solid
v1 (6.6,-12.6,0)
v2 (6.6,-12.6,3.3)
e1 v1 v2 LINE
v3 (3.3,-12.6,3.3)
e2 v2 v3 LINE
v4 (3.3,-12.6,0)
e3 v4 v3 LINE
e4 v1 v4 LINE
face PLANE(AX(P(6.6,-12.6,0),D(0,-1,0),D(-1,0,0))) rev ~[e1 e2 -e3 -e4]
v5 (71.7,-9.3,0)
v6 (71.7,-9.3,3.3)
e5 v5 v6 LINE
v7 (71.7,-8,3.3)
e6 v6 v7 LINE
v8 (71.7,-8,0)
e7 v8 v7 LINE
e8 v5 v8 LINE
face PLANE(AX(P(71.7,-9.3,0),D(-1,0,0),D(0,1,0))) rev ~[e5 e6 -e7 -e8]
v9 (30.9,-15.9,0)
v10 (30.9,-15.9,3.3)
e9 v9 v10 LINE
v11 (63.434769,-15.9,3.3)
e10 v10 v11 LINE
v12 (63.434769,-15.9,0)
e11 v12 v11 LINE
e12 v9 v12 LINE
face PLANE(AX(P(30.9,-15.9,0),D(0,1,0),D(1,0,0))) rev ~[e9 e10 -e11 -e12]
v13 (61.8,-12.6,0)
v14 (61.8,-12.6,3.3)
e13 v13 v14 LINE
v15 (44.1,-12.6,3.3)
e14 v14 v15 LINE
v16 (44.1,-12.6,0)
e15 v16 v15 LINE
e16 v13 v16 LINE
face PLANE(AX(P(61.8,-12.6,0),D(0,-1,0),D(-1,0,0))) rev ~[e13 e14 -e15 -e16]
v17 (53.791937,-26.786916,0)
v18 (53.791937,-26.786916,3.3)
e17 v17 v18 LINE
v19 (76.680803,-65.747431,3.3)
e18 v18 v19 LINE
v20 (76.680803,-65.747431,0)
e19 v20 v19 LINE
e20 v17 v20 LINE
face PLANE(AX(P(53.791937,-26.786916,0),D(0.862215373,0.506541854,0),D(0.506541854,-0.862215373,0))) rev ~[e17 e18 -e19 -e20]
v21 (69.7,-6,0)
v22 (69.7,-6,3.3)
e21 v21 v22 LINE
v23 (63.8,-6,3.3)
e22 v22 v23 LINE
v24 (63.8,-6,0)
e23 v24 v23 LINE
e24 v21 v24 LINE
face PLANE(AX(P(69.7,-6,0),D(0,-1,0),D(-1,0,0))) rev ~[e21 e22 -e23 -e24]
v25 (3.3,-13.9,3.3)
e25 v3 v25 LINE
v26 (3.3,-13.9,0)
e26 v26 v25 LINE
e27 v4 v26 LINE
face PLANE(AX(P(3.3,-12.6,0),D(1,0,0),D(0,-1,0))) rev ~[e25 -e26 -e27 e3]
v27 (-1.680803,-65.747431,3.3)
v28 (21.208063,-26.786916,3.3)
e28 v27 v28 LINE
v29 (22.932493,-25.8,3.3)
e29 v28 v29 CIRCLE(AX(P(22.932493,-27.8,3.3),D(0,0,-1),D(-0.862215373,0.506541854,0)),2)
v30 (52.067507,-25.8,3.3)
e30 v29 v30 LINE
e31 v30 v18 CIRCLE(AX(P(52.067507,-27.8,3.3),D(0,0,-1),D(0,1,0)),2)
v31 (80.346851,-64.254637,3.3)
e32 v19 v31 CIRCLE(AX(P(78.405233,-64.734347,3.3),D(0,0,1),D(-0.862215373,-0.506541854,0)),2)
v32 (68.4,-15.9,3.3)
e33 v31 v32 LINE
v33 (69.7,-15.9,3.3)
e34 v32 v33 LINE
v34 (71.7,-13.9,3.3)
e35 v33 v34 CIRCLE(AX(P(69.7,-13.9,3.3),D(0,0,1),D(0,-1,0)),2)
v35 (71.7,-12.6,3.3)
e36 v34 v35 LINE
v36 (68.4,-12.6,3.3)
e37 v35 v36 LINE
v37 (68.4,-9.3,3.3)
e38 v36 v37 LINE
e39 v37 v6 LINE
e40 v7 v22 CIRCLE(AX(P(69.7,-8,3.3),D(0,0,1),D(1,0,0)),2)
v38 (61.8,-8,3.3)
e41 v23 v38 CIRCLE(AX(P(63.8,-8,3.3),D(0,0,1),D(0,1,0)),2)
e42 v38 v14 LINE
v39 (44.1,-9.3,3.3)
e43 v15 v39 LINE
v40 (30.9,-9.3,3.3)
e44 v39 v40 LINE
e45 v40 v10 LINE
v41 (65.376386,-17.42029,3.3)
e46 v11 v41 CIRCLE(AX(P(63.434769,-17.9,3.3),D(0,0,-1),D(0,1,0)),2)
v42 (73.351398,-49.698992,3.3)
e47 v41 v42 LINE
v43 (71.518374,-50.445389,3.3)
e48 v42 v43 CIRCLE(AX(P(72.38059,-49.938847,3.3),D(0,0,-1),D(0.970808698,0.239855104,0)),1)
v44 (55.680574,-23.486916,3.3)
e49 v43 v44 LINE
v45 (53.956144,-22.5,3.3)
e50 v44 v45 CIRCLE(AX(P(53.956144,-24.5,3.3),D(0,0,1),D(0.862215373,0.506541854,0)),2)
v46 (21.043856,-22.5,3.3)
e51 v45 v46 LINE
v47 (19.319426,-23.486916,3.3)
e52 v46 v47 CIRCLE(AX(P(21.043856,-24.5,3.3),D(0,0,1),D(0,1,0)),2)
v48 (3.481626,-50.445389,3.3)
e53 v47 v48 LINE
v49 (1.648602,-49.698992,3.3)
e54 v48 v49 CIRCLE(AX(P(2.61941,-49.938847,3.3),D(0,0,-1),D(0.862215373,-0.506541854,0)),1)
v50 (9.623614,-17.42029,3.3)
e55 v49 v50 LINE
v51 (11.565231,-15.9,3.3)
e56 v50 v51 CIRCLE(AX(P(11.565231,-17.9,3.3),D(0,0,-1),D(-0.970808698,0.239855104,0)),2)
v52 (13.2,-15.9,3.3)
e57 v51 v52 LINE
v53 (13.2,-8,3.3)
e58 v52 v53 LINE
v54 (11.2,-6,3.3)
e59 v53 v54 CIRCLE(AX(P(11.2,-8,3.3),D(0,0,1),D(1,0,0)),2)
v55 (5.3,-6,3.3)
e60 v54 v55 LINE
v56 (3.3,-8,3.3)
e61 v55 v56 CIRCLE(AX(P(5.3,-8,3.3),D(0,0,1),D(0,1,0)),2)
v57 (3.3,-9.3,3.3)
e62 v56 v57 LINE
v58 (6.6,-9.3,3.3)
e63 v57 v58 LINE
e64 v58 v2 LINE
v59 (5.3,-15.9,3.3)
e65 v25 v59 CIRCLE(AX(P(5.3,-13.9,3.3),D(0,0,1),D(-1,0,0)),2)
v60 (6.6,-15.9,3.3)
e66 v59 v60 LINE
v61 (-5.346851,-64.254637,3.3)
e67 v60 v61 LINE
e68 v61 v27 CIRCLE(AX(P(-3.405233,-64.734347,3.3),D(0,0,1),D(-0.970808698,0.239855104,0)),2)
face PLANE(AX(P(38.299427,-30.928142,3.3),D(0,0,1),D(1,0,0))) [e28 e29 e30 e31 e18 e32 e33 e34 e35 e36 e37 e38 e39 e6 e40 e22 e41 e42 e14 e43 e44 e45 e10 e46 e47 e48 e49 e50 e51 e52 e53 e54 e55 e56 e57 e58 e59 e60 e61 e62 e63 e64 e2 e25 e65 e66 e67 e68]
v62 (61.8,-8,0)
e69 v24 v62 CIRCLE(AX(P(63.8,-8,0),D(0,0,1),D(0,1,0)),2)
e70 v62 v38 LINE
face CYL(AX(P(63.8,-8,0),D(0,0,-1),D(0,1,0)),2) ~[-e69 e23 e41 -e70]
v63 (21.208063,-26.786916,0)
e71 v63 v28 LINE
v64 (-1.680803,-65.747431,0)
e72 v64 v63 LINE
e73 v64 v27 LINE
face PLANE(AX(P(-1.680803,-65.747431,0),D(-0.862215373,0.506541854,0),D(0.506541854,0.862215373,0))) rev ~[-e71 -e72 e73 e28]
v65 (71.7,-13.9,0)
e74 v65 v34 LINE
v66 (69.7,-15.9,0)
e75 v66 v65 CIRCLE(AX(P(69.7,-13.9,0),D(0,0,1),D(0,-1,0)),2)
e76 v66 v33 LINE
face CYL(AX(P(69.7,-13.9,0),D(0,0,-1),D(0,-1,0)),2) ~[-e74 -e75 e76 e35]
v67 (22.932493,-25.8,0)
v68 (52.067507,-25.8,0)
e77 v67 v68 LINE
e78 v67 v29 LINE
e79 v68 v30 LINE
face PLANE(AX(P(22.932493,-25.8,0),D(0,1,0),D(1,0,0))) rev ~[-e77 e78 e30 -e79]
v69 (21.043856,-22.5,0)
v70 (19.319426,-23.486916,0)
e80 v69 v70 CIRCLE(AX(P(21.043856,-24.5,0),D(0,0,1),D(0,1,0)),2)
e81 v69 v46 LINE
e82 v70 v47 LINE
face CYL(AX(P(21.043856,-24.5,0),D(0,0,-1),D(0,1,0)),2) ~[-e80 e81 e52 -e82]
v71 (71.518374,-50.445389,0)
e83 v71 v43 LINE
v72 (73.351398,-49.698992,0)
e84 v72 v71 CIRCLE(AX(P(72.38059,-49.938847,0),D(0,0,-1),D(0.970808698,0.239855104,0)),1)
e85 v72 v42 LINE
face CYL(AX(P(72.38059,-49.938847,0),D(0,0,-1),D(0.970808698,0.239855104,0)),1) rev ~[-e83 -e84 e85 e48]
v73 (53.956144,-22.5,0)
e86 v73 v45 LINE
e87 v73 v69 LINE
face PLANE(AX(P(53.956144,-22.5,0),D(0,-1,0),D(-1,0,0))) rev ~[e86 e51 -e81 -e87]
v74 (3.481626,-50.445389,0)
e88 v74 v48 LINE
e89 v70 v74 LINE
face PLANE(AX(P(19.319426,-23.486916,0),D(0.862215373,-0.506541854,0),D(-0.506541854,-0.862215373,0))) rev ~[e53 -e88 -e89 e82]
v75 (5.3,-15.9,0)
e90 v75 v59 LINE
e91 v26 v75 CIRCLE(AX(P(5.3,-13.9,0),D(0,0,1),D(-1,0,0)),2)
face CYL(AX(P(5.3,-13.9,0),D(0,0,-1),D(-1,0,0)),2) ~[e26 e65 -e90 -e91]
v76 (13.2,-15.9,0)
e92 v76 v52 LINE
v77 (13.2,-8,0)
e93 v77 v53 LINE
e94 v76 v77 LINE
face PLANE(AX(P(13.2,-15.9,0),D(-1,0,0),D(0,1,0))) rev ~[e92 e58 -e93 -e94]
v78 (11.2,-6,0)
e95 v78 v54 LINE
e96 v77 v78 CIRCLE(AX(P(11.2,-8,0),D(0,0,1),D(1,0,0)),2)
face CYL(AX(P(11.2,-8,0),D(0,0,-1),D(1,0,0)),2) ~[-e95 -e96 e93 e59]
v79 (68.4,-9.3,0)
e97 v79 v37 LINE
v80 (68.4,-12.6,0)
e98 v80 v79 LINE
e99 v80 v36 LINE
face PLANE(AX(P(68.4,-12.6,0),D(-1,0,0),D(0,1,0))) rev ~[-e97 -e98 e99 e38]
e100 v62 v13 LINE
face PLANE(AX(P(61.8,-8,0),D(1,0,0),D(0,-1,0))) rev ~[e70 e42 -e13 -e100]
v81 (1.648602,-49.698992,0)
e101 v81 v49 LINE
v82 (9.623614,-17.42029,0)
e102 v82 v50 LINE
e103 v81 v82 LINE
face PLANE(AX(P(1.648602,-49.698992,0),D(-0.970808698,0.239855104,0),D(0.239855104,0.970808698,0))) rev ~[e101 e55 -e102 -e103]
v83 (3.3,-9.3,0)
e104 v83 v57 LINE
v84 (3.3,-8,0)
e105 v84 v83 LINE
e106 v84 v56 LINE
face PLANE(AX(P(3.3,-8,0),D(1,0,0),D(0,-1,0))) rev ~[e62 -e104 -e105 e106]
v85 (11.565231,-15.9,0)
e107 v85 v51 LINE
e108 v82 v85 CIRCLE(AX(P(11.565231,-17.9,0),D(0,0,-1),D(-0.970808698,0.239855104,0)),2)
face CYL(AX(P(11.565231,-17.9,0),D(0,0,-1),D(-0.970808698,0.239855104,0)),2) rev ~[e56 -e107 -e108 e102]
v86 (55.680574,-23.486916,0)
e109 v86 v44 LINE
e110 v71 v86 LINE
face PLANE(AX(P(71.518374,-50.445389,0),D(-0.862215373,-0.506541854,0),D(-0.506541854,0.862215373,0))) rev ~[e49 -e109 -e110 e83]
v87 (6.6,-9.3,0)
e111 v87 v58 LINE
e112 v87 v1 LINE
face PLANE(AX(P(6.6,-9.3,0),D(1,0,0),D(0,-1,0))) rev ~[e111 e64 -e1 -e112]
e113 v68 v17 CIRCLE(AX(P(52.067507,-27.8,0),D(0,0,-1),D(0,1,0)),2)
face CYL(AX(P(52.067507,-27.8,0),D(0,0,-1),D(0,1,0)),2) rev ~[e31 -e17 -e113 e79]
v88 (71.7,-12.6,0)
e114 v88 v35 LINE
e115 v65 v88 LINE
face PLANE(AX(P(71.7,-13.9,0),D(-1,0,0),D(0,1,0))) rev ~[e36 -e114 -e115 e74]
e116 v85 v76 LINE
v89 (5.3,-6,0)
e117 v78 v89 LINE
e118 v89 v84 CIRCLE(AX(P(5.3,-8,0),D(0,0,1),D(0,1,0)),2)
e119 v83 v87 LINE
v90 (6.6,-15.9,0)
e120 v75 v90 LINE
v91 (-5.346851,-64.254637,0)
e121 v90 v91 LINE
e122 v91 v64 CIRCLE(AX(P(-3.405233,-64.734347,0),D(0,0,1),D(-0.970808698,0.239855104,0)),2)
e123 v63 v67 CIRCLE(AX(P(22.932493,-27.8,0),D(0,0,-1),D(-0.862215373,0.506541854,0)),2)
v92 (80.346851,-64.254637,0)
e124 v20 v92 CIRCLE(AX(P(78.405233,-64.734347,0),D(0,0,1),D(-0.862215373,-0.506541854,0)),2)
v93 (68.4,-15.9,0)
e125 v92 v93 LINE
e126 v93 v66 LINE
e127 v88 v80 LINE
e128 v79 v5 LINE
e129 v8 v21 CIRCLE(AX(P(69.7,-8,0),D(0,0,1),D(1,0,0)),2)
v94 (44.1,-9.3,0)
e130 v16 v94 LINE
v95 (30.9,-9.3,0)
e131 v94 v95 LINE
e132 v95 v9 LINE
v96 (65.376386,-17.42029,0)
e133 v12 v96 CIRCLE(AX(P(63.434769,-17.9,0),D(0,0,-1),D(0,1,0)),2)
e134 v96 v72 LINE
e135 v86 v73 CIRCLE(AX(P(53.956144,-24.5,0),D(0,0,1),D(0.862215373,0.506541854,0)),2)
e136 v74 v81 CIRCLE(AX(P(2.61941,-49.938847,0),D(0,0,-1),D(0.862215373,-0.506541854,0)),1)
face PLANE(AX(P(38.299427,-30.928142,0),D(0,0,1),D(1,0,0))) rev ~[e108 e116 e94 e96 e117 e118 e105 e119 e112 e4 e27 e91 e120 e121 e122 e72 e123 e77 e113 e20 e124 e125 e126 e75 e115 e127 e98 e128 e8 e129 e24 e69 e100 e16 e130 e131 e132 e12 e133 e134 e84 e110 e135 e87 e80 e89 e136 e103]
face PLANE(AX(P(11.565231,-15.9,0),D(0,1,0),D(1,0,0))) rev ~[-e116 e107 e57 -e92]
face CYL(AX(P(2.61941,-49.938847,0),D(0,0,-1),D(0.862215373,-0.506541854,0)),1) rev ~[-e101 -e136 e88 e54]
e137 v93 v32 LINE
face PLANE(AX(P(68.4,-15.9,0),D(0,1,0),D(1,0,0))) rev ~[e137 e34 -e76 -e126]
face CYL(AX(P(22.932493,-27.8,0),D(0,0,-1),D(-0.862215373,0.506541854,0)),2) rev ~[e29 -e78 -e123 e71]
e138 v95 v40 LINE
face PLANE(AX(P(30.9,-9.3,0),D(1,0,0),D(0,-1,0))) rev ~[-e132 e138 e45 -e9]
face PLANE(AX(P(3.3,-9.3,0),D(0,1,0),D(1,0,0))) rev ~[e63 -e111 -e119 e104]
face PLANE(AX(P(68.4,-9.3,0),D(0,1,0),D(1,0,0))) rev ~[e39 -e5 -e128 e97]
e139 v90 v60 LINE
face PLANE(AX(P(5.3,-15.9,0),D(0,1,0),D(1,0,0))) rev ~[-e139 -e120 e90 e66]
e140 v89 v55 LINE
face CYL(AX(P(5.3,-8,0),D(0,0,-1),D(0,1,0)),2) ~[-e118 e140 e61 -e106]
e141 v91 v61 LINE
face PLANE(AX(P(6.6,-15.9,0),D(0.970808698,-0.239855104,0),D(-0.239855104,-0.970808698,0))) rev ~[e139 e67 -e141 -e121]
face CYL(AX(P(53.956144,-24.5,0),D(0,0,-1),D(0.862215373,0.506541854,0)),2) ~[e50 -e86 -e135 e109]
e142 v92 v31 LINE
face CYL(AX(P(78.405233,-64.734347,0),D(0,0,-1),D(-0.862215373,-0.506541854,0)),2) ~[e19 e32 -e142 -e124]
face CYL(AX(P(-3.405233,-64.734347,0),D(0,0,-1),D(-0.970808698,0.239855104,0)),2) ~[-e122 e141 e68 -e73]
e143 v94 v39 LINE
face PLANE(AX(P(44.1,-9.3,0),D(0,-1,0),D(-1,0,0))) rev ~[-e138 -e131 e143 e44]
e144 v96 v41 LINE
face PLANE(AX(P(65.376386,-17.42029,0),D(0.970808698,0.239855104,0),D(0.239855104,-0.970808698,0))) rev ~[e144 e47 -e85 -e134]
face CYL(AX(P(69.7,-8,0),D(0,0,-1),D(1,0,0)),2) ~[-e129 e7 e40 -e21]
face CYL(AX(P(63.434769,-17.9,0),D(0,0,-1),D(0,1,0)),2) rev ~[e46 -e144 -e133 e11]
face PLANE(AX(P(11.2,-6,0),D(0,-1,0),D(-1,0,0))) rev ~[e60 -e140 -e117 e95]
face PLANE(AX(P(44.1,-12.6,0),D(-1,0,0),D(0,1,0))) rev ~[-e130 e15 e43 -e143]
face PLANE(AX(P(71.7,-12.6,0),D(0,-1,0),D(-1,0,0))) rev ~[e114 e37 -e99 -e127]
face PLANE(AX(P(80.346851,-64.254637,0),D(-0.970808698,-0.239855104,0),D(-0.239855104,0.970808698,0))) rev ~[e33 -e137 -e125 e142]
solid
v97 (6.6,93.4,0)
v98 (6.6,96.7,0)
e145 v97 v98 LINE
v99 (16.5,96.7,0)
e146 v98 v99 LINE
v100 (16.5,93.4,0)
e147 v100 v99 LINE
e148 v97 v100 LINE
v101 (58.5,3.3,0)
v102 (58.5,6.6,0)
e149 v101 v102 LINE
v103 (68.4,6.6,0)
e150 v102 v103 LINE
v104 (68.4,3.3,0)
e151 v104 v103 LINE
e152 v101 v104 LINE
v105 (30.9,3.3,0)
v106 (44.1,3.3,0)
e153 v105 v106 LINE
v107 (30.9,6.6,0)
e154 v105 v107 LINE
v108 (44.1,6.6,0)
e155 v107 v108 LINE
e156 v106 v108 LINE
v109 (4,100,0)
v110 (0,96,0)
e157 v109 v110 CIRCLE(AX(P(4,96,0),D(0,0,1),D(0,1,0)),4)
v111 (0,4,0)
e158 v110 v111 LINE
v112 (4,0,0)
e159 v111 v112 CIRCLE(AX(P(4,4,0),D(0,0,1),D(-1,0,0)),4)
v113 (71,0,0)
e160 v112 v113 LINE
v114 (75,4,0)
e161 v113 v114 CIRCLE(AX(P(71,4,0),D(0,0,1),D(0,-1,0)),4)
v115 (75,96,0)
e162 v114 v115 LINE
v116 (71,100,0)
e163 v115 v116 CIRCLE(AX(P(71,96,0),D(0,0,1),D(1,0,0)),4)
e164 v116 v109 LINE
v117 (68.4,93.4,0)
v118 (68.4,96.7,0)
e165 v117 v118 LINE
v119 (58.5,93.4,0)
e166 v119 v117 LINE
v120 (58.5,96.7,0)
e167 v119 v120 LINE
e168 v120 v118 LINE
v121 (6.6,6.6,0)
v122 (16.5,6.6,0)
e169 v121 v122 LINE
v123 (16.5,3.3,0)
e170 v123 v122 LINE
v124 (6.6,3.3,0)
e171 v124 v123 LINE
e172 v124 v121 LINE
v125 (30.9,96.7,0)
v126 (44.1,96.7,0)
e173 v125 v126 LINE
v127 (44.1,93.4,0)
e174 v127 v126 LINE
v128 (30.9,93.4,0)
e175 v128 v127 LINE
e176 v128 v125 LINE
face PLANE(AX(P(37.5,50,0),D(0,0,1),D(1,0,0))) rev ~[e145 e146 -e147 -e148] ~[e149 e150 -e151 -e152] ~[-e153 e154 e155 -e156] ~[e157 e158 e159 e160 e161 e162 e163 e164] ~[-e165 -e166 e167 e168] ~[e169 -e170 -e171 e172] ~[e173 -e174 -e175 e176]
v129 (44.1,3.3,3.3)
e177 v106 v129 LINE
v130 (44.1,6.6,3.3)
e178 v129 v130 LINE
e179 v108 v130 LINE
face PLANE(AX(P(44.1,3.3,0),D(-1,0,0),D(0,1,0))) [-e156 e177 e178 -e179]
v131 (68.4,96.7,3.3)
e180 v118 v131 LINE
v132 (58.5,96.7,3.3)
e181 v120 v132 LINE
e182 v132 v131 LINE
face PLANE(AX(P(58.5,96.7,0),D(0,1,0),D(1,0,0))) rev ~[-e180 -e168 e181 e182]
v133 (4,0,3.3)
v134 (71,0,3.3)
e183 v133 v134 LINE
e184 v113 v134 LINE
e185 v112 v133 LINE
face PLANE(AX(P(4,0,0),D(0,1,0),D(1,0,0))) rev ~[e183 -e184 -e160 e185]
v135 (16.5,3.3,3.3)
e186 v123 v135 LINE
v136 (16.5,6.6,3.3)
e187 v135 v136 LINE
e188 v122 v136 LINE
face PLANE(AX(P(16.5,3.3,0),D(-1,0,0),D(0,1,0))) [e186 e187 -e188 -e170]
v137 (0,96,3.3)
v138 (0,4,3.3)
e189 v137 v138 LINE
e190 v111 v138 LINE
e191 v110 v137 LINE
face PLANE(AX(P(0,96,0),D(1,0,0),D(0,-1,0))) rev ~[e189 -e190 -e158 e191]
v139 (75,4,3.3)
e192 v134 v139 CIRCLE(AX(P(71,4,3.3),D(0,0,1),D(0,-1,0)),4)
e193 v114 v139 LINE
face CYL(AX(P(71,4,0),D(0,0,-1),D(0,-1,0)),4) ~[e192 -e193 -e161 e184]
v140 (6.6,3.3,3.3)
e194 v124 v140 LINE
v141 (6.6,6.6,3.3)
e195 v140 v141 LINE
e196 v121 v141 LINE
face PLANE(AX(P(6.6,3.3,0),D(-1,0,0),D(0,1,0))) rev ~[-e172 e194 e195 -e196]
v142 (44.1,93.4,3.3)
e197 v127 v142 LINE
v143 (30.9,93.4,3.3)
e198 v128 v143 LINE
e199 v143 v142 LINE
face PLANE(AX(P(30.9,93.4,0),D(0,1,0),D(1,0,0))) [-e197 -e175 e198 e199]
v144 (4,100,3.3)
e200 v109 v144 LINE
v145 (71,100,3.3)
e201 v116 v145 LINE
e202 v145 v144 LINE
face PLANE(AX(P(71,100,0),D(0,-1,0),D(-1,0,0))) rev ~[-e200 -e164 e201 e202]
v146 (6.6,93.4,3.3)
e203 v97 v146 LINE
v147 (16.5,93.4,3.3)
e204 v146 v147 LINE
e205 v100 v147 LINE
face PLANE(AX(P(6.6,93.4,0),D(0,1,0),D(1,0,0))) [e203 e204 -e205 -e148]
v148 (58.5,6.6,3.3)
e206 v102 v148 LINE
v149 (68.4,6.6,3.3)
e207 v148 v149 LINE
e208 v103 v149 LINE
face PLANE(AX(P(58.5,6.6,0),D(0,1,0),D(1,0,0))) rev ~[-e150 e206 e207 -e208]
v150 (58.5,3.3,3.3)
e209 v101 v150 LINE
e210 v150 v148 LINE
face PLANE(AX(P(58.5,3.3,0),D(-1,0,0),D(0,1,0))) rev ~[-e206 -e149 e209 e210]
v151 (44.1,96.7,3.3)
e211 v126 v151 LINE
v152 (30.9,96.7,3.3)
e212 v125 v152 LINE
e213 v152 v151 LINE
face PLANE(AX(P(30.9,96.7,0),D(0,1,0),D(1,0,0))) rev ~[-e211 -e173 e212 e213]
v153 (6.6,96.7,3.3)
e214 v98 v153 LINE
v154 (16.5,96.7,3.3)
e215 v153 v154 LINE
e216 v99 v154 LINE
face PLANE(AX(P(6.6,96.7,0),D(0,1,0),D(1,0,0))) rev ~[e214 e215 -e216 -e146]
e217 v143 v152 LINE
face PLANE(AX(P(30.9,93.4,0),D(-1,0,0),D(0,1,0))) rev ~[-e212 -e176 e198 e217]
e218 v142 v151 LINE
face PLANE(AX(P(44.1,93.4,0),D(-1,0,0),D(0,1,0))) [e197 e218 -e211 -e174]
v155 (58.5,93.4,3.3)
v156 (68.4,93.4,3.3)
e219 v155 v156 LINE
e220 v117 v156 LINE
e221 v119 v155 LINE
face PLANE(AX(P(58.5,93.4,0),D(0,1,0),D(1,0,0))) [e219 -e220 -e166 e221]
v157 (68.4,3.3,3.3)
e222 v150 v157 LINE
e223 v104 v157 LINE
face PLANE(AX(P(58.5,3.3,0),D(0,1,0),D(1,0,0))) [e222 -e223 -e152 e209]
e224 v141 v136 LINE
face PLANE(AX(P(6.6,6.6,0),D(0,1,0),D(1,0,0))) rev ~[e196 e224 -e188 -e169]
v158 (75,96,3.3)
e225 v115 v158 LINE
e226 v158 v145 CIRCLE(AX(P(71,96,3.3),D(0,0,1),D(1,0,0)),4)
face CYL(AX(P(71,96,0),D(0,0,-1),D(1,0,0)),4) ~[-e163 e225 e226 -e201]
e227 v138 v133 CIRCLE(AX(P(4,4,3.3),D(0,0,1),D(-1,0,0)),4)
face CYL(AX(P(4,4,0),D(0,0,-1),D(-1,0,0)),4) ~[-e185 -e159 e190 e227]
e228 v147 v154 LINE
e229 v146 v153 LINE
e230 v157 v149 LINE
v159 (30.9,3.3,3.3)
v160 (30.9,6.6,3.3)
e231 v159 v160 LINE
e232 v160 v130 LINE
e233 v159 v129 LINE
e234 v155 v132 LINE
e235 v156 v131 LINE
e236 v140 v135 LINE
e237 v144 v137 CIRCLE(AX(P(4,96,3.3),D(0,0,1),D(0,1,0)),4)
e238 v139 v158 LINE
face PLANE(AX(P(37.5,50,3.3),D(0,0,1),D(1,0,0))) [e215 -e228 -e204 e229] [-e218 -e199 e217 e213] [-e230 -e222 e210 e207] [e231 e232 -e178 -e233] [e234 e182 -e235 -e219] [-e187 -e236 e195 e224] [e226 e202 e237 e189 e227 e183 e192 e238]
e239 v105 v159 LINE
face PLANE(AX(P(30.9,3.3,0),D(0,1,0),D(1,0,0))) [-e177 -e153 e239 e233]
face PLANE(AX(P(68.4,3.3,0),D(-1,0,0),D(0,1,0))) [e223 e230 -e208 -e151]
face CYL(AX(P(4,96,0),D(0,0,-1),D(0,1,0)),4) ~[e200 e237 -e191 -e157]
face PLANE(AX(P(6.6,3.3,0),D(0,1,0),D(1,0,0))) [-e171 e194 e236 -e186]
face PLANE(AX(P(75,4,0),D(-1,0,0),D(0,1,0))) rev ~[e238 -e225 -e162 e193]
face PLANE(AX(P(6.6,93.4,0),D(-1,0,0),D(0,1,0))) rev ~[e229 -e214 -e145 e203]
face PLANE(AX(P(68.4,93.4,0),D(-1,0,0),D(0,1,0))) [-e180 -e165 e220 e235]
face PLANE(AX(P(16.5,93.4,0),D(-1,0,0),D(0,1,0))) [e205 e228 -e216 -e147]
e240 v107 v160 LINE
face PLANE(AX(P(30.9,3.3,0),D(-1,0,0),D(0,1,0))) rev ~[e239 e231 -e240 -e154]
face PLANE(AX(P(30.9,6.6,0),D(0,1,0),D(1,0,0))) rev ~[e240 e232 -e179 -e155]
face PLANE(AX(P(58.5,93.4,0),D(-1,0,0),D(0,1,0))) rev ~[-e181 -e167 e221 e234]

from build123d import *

# Parameters (mm, degrees)
F2_DEPTH = 3.3
F1_W     = 9.9
F1_H     = 3.3
F1_W_2   = 13.2


with BuildPart() as f2:
    # F1 (on Top) → F2 (new body)
    with BuildSketch(Plane.XY):
        with BuildLine():
            Line((5.3, -15.9), (6.6, -15.9))
            Line((6.6, -15.9), (-5.3468506697, -64.2546372373))
            ThreePointArc((-5.3468506697, -64.2546372373), (-4.1594884882, -66.5866700606), (-1.6808025264, -65.7474311544))
            Line((-1.6808025264, -65.7474311544), (21.2080626707, -26.7869162912))
            ThreePointArc((21.2080626707, -26.7869162912), (21.9390568106, -26.0641763601), (22.9324934171, -25.8))
            Line((22.9324934171, -25.8), (37.5, -25.8))
            Line((37.5, -25.8), (52.0675065829, -25.8))
            ThreePointArc((52.0675065829, -25.8), (53.0609431894, -26.0641763601), (53.7919373293, -26.7869162912))
            Line((53.7919373293, -26.7869162912), (76.6808025264, -65.7474311544))
            ThreePointArc((76.6808025264, -65.7474311544), (79.1594884882, -66.5866700606), (80.3468506697, -64.2546372373))
            Line((80.3468506697, -64.2546372373), (68.4, -15.9))
            Line((68.4, -15.9), (69.7, -15.9))
            ThreePointArc((69.7, -15.9), (71.1142135624, -15.3142135624), (71.7, -13.9))
            Line((71.7, -13.9), (71.7, -12.6))
            Line((71.7, -12.6), (68.4, -12.6))
            Line((68.4, -12.6), (68.4, -9.3))
            Line((68.4, -9.3), (71.7, -9.3))
            Line((71.7, -9.3), (71.7, -8))
            ThreePointArc((71.7, -8), (71.1142135624, -6.5857864376), (69.7, -6))
            Line((69.7, -6), (63.8, -6))
            ThreePointArc((63.8, -6), (62.3857864376, -6.5857864376), (61.8, -8))
            Line((61.8, -8), (61.8, -12.6))
            Line((61.8, -12.6), (44.1, -12.6))
            Line((44.1, -12.6), (44.1, -9.3))
            Line((44.1, -9.3), (37.5, -9.3))
            Line((37.5, -9.3), (30.9, -9.3))
            Line((30.9, -9.3), (30.9, -12.6))
            Line((30.9, -12.6), (30.9, -15.9))
            Line((30.9, -15.9), (37.5, -15.9))
            Line((37.5, -15.9), (63.4347686425, -15.9))
            ThreePointArc((63.4347686425, -15.9), (64.6677689636, -16.3252904369), (65.3763860395, -17.4202897918))
            Line((65.3763860395, -17.4202897918), (73.3513984887, -49.6989919039))
            ThreePointArc((73.3513984887, -49.6989919039), (72.7577173979, -50.8650083155), (71.518374417, -50.4453888624))
            Line((71.518374417, -50.4453888624), (55.6805743579, -23.4869162912))
            ThreePointArc((55.6805743579, -23.4869162912), (54.9495802181, -22.7641763601), (53.9561436116, -22.5))
            Line((53.9561436116, -22.5), (37.5, -22.5))
            Line((37.5, -22.5), (21.0438563884, -22.5))
            ThreePointArc((21.0438563884, -22.5), (20.0504197819, -22.7641763601), (19.3194256421, -23.4869162912))
            Line((19.3194256421, -23.4869162912), (3.481625583, -50.4453888624))
            ThreePointArc((3.481625583, -50.4453888624), (2.2422826021, -50.8650083155), (1.6486015113, -49.6989919039))
            Line((1.6486015113, -49.6989919039), (9.6236139605, -17.4202897918))
            ThreePointArc((9.6236139605, -17.4202897918), (10.3322310364, -16.3252904369), (11.5652313575, -15.9))
            Line((11.5652313575, -15.9), (13.2, -15.9))
            Line((13.2, -15.9), (13.2, -12.6))
            Line((13.2, -12.6), (13.2, -8))
            ThreePointArc((13.2, -8), (12.6142135624, -6.5857864376), (11.2, -6))
            Line((11.2, -6), (5.3, -6))
            ThreePointArc((5.3, -6), (3.8857864376, -6.5857864376), (3.3, -8))
            Line((3.3, -8), (3.3, -9.3))
            Line((3.3, -9.3), (6.6, -9.3))
            Line((6.6, -9.3), (6.6, -12.6))
            Line((6.6, -12.6), (3.3, -12.6))
            Line((3.3, -12.6), (3.3, -13.9))
            ThreePointArc((3.3, -13.9), (3.8857864376, -15.3142135624), (5.3, -15.9))
        make_face()
    extrude(amount=F2_DEPTH)


with BuildPart() as f2b:
    # F1 (on Top) → F2, piece 2 (new body)
    with BuildSketch(Plane.XY):
        with BuildLine():
            Line((0, 96), (0, 4))
            ThreePointArc((0, 4), (1.1715728753, 1.1715728753), (4, 0))
            Line((4, 0), (71, 0))
            ThreePointArc((71, 0), (73.8284271247, 1.1715728753), (75, 4))
            Line((75, 4), (75, 96))
            ThreePointArc((75, 96), (73.8284271247, 98.8284271247), (71, 100))
            Line((71, 100), (4, 100))
            ThreePointArc((4, 100), (1.1715728753, 98.8284271247), (0, 96))
        make_face()
        with Locations((11.55, 4.95)):
            Rectangle(F1_W, F1_H, mode=Mode.SUBTRACT)
        with Locations((37.5, 4.95)):
            Rectangle(F1_W_2, F1_H, mode=Mode.SUBTRACT)
        with Locations((63.45, 4.95)):
            Rectangle(F1_W, F1_H, mode=Mode.SUBTRACT)
        with Locations((11.55, 95.05)):
            Rectangle(F1_W, F1_H, mode=Mode.SUBTRACT)
        with Locations((37.5, 95.05)):
            Rectangle(F1_W_2, F1_H, mode=Mode.SUBTRACT)
        with Locations((63.45, 95.05)):
            Rectangle(F1_W, F1_H, mode=Mode.SUBTRACT)
    extrude(amount=F2_DEPTH)


solid = Compound([f2.part, f2b.part])
